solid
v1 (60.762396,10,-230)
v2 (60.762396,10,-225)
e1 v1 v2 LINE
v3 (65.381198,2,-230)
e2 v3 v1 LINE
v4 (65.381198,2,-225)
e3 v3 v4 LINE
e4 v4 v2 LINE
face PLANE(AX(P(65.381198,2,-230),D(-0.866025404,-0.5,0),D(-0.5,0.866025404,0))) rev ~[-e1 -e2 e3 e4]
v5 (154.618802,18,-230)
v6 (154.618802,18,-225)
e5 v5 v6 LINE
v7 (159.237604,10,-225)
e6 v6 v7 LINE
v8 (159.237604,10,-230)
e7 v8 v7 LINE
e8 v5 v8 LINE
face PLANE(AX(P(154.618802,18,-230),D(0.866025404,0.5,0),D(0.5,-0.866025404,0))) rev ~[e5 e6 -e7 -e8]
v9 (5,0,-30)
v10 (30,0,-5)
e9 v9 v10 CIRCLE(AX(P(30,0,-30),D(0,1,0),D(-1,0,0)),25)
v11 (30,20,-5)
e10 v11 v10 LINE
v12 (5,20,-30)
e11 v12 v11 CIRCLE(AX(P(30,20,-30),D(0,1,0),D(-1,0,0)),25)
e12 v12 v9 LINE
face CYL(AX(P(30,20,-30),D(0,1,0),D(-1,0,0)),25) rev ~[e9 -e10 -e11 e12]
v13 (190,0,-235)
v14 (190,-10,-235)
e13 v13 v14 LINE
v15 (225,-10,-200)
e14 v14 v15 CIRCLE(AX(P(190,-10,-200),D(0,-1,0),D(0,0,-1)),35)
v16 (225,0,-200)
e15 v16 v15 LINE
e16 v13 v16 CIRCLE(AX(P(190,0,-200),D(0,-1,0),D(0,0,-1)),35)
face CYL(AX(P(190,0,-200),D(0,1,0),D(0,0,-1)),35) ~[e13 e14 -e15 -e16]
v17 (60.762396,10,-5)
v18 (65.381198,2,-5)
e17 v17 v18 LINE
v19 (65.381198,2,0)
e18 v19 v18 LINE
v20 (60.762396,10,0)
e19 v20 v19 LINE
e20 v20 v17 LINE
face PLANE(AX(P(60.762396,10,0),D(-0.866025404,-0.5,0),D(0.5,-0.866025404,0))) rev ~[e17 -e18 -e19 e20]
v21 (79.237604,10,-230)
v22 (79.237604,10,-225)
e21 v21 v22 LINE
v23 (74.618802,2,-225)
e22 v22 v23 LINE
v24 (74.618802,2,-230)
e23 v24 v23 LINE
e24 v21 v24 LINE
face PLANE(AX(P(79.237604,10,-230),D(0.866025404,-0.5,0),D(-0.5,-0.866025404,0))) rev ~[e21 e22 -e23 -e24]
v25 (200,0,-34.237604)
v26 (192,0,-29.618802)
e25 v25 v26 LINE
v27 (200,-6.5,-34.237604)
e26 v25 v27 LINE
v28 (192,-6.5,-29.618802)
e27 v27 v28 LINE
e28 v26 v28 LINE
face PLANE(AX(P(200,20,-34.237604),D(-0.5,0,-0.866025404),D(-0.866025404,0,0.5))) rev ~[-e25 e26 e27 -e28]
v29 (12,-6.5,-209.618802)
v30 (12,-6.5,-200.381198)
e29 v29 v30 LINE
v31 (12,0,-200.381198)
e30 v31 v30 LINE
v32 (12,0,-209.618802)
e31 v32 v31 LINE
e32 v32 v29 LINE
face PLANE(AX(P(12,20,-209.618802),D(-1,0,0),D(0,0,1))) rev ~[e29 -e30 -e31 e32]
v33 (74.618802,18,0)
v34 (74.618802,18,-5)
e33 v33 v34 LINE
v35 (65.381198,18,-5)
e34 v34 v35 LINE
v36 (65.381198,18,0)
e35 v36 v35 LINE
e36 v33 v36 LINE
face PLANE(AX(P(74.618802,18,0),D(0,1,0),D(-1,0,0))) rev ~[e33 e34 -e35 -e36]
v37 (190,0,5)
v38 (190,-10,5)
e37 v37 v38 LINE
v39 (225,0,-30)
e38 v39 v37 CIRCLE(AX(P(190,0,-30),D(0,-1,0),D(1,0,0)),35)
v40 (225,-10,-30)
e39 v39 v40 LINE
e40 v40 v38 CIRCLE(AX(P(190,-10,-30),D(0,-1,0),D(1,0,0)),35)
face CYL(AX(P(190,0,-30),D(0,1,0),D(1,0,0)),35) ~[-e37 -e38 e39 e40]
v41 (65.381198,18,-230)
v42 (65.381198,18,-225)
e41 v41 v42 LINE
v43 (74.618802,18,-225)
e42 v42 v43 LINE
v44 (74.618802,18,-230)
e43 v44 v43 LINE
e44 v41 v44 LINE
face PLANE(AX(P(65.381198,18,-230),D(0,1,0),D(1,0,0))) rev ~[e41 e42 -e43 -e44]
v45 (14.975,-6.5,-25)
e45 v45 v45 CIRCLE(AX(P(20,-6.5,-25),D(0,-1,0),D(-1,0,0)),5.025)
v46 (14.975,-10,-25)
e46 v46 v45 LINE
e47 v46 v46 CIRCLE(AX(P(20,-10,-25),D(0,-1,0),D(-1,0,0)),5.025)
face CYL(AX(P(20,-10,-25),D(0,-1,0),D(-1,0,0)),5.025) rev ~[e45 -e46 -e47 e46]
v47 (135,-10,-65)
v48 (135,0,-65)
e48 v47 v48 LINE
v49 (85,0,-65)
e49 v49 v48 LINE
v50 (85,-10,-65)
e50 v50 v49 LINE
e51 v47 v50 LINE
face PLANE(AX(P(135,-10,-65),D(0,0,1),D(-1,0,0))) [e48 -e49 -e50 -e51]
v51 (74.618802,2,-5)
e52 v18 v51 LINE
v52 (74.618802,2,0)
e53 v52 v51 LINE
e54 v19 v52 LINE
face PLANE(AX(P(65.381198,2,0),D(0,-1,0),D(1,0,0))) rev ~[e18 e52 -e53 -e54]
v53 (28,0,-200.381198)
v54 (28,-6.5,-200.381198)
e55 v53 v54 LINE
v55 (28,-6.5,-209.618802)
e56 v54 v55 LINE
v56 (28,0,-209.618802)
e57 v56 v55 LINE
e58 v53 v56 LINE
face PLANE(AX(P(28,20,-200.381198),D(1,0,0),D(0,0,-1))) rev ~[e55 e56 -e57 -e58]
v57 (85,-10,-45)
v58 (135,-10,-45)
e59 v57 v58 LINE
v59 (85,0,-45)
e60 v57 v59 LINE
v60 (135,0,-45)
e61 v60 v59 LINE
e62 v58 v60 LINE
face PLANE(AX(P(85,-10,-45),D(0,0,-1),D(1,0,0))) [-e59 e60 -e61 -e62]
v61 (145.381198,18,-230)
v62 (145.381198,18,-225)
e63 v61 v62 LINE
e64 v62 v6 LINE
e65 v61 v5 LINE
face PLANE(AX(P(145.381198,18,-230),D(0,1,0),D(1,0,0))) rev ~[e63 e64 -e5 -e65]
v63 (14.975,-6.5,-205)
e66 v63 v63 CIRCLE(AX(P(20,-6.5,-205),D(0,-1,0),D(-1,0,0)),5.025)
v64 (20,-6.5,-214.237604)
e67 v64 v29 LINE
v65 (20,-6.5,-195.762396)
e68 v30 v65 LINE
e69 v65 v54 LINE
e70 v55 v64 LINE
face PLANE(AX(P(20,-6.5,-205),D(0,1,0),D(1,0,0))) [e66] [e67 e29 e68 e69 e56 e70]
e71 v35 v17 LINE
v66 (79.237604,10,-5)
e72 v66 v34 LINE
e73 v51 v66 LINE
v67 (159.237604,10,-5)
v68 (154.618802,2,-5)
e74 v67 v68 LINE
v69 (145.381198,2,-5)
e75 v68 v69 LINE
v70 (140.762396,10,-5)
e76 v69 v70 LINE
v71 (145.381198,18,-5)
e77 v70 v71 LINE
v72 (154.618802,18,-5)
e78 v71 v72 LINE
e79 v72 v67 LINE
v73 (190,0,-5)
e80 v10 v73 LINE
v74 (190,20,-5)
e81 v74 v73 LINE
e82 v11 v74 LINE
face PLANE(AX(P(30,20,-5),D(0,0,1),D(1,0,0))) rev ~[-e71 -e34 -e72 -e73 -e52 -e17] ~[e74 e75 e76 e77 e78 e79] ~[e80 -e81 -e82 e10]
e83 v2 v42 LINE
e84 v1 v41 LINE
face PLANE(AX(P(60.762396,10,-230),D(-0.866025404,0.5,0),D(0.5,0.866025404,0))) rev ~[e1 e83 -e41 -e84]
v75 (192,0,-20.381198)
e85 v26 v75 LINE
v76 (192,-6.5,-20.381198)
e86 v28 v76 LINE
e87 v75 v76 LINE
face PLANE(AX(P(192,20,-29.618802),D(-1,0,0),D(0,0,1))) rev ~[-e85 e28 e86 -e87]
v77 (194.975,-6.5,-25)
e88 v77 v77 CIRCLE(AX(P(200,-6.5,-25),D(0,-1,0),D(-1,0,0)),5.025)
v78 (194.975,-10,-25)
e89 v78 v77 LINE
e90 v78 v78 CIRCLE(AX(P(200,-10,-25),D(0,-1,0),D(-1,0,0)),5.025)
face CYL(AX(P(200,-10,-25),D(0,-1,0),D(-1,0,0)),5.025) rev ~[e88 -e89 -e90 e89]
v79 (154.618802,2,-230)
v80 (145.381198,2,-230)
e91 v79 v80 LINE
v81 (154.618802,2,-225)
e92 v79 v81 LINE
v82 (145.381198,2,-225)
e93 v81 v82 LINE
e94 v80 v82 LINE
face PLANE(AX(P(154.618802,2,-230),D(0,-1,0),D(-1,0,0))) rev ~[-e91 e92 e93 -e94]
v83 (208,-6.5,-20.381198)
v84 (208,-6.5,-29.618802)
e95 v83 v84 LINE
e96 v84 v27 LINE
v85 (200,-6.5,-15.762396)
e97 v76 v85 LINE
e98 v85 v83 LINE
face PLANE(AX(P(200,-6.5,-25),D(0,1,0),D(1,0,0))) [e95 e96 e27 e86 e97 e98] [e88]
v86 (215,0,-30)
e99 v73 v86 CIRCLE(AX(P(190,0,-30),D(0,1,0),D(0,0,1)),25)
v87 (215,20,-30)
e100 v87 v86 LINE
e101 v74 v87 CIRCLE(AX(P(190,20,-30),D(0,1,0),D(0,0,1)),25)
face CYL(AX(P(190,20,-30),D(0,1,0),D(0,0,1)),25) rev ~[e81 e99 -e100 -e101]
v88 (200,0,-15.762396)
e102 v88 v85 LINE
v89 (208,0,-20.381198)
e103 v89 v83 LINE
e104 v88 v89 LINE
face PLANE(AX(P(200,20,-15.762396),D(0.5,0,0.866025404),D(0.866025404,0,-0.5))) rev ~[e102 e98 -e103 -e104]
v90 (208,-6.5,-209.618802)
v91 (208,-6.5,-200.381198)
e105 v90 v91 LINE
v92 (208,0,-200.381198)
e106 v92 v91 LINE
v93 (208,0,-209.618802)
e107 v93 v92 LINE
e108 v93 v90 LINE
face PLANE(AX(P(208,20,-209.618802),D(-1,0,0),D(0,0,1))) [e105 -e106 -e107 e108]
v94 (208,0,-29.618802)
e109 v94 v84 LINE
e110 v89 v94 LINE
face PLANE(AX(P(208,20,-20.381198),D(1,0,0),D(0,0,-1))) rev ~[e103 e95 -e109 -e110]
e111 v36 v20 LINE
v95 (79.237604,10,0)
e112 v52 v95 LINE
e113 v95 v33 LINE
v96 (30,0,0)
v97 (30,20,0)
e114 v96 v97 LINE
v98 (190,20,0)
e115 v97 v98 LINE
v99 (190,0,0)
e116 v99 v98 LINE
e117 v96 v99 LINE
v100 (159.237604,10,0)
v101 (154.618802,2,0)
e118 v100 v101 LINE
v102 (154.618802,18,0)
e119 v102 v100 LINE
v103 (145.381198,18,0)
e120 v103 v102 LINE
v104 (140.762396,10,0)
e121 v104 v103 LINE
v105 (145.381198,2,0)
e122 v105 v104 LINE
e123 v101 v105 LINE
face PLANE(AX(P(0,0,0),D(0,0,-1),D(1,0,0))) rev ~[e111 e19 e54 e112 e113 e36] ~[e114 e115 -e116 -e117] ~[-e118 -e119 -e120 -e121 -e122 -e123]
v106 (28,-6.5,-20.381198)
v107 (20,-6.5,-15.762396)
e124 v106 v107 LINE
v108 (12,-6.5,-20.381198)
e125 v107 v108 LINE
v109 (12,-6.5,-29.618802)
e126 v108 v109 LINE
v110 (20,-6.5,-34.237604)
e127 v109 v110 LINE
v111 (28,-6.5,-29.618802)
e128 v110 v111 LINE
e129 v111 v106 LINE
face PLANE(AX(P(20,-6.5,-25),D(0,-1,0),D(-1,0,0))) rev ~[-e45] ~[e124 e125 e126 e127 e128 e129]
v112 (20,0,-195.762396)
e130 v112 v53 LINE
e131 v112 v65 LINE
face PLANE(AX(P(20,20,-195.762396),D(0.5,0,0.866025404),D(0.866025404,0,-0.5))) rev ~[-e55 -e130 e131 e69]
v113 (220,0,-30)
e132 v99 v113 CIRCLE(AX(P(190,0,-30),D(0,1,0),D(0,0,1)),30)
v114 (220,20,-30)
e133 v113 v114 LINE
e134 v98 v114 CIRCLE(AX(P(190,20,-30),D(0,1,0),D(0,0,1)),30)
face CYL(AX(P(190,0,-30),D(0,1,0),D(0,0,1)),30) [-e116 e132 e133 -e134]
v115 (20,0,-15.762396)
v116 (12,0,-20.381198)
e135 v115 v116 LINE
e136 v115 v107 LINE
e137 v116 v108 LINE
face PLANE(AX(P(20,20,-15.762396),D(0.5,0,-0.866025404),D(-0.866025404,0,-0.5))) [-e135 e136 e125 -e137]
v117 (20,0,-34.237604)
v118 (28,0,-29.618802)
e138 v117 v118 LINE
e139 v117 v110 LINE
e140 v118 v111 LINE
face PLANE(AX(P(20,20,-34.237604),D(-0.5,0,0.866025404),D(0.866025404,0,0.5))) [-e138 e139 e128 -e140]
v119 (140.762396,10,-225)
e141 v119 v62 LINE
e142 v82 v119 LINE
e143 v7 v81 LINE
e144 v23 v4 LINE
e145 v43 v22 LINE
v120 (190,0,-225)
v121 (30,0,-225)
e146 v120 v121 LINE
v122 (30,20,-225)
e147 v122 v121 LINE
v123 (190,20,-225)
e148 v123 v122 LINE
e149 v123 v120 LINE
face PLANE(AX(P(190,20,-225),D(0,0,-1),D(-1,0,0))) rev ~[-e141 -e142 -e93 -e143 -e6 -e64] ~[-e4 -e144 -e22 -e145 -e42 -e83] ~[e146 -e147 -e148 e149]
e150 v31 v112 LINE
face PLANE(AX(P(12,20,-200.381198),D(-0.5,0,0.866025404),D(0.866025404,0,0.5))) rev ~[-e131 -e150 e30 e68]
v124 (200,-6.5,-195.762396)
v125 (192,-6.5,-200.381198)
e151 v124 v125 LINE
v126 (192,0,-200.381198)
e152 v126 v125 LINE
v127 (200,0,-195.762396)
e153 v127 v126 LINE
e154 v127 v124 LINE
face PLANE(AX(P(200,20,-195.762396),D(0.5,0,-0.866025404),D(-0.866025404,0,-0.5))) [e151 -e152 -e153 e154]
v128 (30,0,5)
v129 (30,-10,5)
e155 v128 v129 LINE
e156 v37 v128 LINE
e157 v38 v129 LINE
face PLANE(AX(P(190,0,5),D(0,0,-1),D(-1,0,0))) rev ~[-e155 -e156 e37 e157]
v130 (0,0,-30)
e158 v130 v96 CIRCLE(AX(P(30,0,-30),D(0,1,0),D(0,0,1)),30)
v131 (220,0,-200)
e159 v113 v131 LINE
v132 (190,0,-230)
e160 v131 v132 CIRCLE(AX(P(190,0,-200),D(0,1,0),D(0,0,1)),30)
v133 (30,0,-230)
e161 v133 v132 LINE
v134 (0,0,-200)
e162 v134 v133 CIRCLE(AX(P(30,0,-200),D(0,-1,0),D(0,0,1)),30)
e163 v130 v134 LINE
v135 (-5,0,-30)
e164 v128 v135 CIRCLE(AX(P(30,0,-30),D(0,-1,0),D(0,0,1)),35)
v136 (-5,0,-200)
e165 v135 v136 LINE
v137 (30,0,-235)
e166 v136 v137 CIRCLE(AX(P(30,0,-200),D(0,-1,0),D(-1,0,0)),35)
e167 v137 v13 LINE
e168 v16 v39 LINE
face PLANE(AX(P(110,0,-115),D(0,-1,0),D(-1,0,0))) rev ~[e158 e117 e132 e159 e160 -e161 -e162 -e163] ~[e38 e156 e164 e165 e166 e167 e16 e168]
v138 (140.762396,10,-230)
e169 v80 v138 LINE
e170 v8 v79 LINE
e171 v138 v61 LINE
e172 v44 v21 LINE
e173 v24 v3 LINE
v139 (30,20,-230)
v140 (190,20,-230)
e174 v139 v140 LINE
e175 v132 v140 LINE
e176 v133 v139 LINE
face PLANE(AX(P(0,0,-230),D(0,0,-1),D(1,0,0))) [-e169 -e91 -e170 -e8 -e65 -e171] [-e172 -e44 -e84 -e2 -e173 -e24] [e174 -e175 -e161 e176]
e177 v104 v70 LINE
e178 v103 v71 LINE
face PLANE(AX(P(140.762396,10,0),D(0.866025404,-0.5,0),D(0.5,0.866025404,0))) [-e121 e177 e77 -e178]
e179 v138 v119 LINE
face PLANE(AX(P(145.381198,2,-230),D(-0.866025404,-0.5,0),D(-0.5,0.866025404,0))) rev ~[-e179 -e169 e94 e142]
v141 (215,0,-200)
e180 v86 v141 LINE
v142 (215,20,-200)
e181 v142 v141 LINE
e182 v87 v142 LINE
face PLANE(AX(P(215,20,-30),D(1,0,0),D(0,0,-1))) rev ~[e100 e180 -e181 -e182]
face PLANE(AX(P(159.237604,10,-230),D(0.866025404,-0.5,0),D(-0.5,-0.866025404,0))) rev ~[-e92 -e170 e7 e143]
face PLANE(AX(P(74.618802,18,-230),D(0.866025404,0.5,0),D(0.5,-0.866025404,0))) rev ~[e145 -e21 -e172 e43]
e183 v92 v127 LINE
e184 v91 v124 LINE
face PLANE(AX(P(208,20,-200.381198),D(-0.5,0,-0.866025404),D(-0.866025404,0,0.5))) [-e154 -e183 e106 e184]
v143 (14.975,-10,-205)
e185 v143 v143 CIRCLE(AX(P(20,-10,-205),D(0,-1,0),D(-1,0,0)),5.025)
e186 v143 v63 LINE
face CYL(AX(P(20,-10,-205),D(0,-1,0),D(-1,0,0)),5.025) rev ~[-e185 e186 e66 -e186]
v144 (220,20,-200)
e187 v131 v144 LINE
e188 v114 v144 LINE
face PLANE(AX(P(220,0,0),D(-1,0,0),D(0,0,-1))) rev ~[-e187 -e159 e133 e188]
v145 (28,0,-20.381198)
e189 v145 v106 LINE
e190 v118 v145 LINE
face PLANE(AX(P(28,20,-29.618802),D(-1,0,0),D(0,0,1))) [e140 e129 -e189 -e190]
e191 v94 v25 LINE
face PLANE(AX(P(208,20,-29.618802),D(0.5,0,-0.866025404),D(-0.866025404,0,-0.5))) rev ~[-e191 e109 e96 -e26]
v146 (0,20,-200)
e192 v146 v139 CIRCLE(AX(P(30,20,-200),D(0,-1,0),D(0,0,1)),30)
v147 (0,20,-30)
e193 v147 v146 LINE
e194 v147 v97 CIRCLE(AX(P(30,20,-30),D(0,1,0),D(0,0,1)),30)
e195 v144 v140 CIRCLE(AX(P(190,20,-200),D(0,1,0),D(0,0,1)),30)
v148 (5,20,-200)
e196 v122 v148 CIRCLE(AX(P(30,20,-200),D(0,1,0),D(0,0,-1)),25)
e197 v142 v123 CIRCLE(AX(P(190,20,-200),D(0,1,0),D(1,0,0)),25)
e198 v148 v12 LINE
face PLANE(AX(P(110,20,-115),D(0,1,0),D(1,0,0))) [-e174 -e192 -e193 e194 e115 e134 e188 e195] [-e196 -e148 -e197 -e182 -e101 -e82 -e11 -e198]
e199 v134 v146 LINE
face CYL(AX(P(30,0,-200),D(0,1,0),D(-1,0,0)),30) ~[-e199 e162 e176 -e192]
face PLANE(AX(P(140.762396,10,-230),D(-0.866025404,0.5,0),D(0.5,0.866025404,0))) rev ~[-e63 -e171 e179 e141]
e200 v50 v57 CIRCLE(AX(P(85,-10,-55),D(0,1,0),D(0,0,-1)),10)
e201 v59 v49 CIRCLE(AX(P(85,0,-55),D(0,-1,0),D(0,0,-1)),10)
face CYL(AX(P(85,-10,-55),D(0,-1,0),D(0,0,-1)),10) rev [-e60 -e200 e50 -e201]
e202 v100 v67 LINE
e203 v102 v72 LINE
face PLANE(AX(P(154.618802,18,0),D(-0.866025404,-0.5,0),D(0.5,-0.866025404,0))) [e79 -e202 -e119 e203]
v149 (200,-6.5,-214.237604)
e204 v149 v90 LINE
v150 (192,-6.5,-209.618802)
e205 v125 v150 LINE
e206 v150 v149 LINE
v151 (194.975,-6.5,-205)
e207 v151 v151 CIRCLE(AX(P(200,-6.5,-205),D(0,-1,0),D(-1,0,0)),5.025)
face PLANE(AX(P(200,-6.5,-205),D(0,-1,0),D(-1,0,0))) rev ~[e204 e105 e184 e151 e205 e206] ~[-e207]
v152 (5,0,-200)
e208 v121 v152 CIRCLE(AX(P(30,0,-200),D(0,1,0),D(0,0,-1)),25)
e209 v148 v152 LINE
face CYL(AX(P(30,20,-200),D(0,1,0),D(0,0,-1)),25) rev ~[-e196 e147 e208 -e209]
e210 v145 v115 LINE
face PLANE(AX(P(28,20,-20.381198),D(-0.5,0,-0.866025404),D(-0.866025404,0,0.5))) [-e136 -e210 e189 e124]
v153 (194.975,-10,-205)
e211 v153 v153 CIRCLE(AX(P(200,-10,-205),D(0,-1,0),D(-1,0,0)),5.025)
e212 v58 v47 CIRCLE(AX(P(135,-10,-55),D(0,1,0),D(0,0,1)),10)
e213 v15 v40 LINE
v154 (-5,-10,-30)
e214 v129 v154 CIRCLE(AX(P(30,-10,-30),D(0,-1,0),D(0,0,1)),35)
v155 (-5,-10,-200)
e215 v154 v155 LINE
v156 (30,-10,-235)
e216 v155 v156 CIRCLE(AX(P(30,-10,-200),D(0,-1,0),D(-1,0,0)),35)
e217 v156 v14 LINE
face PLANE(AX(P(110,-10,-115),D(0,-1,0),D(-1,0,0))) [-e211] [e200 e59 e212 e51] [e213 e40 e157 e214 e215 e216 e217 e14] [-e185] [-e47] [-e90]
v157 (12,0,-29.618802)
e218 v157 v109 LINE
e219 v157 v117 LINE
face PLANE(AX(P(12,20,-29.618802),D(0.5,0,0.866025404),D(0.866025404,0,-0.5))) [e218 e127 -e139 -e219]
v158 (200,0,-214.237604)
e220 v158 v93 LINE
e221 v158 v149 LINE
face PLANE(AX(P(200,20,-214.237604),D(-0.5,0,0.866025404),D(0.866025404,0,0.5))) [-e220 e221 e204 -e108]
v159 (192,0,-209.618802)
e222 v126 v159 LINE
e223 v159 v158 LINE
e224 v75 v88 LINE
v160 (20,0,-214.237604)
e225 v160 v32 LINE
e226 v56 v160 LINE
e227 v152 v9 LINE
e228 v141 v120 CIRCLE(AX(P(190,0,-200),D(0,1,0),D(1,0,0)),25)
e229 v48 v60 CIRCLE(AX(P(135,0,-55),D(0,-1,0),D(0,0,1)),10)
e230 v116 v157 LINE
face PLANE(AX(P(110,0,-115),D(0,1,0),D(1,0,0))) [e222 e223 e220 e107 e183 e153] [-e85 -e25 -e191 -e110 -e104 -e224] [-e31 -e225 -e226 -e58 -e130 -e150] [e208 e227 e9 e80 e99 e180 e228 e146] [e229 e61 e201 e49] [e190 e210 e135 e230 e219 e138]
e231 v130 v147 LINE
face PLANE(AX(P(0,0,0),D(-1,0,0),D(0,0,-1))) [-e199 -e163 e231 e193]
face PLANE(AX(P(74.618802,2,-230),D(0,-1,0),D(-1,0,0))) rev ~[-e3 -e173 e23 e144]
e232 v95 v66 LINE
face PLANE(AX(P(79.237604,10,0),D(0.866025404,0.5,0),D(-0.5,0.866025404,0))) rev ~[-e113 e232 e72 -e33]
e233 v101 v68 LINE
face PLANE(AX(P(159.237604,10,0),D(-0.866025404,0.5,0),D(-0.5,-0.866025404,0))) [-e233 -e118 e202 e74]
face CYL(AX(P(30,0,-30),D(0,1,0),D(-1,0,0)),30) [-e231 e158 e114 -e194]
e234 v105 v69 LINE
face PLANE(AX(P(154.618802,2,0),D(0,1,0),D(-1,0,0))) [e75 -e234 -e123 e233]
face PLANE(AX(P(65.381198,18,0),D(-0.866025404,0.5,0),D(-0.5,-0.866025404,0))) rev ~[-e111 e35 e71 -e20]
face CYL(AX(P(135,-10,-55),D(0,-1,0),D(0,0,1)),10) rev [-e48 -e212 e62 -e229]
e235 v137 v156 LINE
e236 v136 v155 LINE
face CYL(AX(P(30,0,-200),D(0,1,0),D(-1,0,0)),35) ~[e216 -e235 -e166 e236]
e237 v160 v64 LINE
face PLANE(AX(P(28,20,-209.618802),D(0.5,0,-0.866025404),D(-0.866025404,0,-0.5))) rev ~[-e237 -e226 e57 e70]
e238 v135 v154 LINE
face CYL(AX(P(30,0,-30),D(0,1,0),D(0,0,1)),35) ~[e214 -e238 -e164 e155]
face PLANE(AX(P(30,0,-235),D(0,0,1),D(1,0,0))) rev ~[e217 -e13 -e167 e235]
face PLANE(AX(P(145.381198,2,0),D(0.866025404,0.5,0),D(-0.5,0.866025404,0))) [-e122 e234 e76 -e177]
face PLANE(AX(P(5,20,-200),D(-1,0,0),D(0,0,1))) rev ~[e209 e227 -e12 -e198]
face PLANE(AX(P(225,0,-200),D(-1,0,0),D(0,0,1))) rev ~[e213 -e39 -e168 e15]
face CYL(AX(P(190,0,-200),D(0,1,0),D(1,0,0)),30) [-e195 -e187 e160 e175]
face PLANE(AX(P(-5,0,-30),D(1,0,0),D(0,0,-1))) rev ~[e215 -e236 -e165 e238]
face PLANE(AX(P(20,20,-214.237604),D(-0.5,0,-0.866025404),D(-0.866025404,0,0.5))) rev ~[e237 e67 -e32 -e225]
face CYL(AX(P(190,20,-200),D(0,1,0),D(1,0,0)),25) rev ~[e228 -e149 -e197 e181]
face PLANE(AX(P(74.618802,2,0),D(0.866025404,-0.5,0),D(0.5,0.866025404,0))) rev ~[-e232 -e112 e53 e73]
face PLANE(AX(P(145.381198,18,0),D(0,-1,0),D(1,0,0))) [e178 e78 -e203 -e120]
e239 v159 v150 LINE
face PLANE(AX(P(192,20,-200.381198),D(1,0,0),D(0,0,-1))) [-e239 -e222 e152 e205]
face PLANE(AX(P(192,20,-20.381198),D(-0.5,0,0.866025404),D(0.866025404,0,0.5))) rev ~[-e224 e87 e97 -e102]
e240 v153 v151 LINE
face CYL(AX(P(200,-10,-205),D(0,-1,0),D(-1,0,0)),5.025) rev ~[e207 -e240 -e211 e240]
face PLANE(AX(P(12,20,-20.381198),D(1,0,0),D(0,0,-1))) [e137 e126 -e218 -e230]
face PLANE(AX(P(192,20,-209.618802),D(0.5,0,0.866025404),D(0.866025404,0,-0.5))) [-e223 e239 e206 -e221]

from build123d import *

# Parameters (mm, degrees)
SKETCH1_W           = 220
SKETCH1_H           = 230
BOSS_EXTRUDE1_DEPTH = 20
FILLET1_R           = 30
BOSS_EXTRUDE4_DEPTH = 10
CUT_EXTRUDE10_DEPTH = 20
SKETCH6_R           = 5.025
CUT_EXTRUDE3_DEPTH  = 31
SKETCH8_R           = 5
CUT_EXTRUDE4_DEPTH  = 30
SKETCH7_R           = 5
CUT_EXTRUDE5_DEPTH  = 30
CUT_EXTRUDE6_DEPTH  = 8.5
CUT_EXTRUDE7_DEPTH  = 8.5
CUT_EXTRUDE8_DEPTH  = 26.5
CUT_EXTRUDE9_DEPTH  = 31


with BuildPart() as part:
    # Sketch1 → Boss-Extrude1 (new body)
    with BuildSketch(Plane(origin=(0, 0, 0), x_dir=(1, 0, 0), z_dir=(0, 1, 0))):
        with Locations((110, 115)):
            Rectangle(SKETCH1_W, SKETCH1_H)
    extrude(amount=BOSS_EXTRUDE1_DEPTH)

    # Fillet1
    fillet1_edges = [part.edges().sort_by_distance(p)[0] for p in [
        (0, 10, -230),
        (220, 10, -230),
        (220, 10, 0),
        (0, 10, 0),
    ]]
    fillet(fillet1_edges, radius=FILLET1_R)

    # Sketch4 → Boss-Extrude4 (add)
    with BuildSketch(Plane(origin=(0, 0, 0), x_dir=(-1, 0, 0), z_dir=(0, -1, 0))):
        with BuildLine():
            Line((-225, 200), (-225, 30))
            ThreePointArc((-225, 30), (-214.748737342, 5.251262658), (-190, -5))
            Line((-190, -5), (-30, -5))
            ThreePointArc((-30, -5), (-5.251262658, 5.251262658), (5, 30))
            Line((5, 30), (5, 200))
            ThreePointArc((5, 200), (-5.251262658, 224.748737342), (-30, 235))
            Line((-30, 235), (-190, 235))
            ThreePointArc((-190, 235), (-214.748737342, 224.748737342), (-225, 200))
        make_face()
    extrude(amount=BOSS_EXTRUDE4_DEPTH)

    # Sketch15 → Cut-Extrude10 (cut)
    with BuildSketch(Plane(origin=(0, 20, 0), x_dir=(1, 0, 0), z_dir=(0, 1, 0))):
        with BuildLine():
            Line((215, 30), (215, 200))
            ThreePointArc((215, 200), (207.67766953, 217.67766953), (190, 225))
            Line((190, 225), (30, 225))
            ThreePointArc((30, 225), (12.32233047, 217.67766953), (5, 200))
            Line((5, 200), (5, 30))
            ThreePointArc((5, 30), (12.32233047, 12.32233047), (30, 5))
            Line((30, 5), (190, 5))
            ThreePointArc((190, 5), (207.67766953, 12.32233047), (215, 30))
        make_face()
    extrude(amount=-CUT_EXTRUDE10_DEPTH, mode=Mode.SUBTRACT)

    # Sketch6 → Cut-Extrude3 (cut, through all)
    with BuildSketch(Plane(origin=(0, -10, 0), x_dir=(-1, 0, 0), z_dir=(0, -1, 0))):
        with Locations((-200, 205)):
            Circle(SKETCH6_R)
        with Locations((-20, 205)):
            Circle(SKETCH6_R)
        with Locations((-20, 25)):
            Circle(SKETCH6_R)
        with Locations((-200, 25)):
            Circle(SKETCH6_R)
    extrude(amount=-CUT_EXTRUDE3_DEPTH, mode=Mode.SUBTRACT)

    # Sketch8 → Cut-Extrude4 (cut)
    with BuildSketch(Plane(origin=(0, 0, -230), x_dir=(-1, 0, 0), z_dir=(0, 0, -1))):
        with Locations((-150, 10)):
            Circle(SKETCH8_R)
        with Locations((-70, 10)):
            Circle(SKETCH8_R)
    extrude(amount=-CUT_EXTRUDE4_DEPTH, mode=Mode.SUBTRACT)

    # Sketch7 → Cut-Extrude5 (cut)
    with BuildSketch(Plane.XY):
        with Locations((70, 10)):
            Circle(SKETCH7_R)
        with Locations((150, 10)):
            Circle(SKETCH7_R)
    extrude(amount=-CUT_EXTRUDE5_DEPTH, mode=Mode.SUBTRACT)

    # Sketch10 → Cut-Extrude6 (cut)
    with BuildSketch(Plane(origin=(0, 0, -230), x_dir=(-1, 0, 0), z_dir=(0, 0, -1))):
        Polygon((-159.237604307, 10), (-154.618802154, 2), (-145.381197846, 2), (-140.762395693, 10), (-145.381197846, 18), (-154.618802154, 18), align=None)
        Polygon((-79.237604307, 10), (-74.618802154, 2), (-65.381197846, 2), (-60.762395693, 10), (-65.381197846, 18), (-74.618802154, 18), align=None)
    extrude(amount=-CUT_EXTRUDE6_DEPTH, mode=Mode.SUBTRACT)

    # Sketch9 → Cut-Extrude7 (cut)
    with BuildSketch(Plane.XY):
        Polygon((60.762395693, 10), (65.381197846, 2), (74.618802154, 2), (79.237604307, 10), (74.618802154, 18), (65.381197846, 18), align=None)
        Polygon((154.618802154, 2), (145.381197846, 2), (140.762395693, 10), (145.381197846, 18), (154.618802154, 18), (159.237604307, 10), align=None)
    extrude(amount=-CUT_EXTRUDE7_DEPTH, mode=Mode.SUBTRACT)

    # Sketch11 → Cut-Extrude8 (cut)
    with BuildSketch(Plane(origin=(0, 20, 0), x_dir=(1, 0, 0), z_dir=(0, 1, 0))):
        Polygon((20, 214.237604307), (12, 209.618802154), (12, 200.381197846), (20, 195.762395693), (28, 200.381197846), (28, 209.618802154), align=None)
        Polygon((192, 209.618802154), (200, 214.237604307), (208, 209.618802154), (208, 200.381197846), (200, 195.762395693), (192, 200.381197846), align=None)
        Polygon((192, 29.618802154), (192, 20.381197846), (200, 15.762395693), (208, 20.381197846), (208, 29.618802154), (200, 34.237604307), align=None)
        Polygon((28, 20.381197846), (20, 15.762395693), (12, 20.381197846), (12, 29.618802154), (20, 34.237604307), (28, 29.618802154), align=None)
    extrude(amount=-CUT_EXTRUDE8_DEPTH, mode=Mode.SUBTRACT)

    # Sketch13 → Cut-Extrude9 (cut, through all)
    with BuildSketch(Plane.XZ.offset(10)):
        with BuildLine():
            Line((135, -65), (85, -65))
            ThreePointArc((85, -65), (75, -55), (85, -45))
            Line((85, -45), (135, -45))
            ThreePointArc((135, -45), (145, -55), (135, -65))
        make_face()
    extrude(amount=-CUT_EXTRUDE9_DEPTH, mode=Mode.SUBTRACT)


solid = part.part
